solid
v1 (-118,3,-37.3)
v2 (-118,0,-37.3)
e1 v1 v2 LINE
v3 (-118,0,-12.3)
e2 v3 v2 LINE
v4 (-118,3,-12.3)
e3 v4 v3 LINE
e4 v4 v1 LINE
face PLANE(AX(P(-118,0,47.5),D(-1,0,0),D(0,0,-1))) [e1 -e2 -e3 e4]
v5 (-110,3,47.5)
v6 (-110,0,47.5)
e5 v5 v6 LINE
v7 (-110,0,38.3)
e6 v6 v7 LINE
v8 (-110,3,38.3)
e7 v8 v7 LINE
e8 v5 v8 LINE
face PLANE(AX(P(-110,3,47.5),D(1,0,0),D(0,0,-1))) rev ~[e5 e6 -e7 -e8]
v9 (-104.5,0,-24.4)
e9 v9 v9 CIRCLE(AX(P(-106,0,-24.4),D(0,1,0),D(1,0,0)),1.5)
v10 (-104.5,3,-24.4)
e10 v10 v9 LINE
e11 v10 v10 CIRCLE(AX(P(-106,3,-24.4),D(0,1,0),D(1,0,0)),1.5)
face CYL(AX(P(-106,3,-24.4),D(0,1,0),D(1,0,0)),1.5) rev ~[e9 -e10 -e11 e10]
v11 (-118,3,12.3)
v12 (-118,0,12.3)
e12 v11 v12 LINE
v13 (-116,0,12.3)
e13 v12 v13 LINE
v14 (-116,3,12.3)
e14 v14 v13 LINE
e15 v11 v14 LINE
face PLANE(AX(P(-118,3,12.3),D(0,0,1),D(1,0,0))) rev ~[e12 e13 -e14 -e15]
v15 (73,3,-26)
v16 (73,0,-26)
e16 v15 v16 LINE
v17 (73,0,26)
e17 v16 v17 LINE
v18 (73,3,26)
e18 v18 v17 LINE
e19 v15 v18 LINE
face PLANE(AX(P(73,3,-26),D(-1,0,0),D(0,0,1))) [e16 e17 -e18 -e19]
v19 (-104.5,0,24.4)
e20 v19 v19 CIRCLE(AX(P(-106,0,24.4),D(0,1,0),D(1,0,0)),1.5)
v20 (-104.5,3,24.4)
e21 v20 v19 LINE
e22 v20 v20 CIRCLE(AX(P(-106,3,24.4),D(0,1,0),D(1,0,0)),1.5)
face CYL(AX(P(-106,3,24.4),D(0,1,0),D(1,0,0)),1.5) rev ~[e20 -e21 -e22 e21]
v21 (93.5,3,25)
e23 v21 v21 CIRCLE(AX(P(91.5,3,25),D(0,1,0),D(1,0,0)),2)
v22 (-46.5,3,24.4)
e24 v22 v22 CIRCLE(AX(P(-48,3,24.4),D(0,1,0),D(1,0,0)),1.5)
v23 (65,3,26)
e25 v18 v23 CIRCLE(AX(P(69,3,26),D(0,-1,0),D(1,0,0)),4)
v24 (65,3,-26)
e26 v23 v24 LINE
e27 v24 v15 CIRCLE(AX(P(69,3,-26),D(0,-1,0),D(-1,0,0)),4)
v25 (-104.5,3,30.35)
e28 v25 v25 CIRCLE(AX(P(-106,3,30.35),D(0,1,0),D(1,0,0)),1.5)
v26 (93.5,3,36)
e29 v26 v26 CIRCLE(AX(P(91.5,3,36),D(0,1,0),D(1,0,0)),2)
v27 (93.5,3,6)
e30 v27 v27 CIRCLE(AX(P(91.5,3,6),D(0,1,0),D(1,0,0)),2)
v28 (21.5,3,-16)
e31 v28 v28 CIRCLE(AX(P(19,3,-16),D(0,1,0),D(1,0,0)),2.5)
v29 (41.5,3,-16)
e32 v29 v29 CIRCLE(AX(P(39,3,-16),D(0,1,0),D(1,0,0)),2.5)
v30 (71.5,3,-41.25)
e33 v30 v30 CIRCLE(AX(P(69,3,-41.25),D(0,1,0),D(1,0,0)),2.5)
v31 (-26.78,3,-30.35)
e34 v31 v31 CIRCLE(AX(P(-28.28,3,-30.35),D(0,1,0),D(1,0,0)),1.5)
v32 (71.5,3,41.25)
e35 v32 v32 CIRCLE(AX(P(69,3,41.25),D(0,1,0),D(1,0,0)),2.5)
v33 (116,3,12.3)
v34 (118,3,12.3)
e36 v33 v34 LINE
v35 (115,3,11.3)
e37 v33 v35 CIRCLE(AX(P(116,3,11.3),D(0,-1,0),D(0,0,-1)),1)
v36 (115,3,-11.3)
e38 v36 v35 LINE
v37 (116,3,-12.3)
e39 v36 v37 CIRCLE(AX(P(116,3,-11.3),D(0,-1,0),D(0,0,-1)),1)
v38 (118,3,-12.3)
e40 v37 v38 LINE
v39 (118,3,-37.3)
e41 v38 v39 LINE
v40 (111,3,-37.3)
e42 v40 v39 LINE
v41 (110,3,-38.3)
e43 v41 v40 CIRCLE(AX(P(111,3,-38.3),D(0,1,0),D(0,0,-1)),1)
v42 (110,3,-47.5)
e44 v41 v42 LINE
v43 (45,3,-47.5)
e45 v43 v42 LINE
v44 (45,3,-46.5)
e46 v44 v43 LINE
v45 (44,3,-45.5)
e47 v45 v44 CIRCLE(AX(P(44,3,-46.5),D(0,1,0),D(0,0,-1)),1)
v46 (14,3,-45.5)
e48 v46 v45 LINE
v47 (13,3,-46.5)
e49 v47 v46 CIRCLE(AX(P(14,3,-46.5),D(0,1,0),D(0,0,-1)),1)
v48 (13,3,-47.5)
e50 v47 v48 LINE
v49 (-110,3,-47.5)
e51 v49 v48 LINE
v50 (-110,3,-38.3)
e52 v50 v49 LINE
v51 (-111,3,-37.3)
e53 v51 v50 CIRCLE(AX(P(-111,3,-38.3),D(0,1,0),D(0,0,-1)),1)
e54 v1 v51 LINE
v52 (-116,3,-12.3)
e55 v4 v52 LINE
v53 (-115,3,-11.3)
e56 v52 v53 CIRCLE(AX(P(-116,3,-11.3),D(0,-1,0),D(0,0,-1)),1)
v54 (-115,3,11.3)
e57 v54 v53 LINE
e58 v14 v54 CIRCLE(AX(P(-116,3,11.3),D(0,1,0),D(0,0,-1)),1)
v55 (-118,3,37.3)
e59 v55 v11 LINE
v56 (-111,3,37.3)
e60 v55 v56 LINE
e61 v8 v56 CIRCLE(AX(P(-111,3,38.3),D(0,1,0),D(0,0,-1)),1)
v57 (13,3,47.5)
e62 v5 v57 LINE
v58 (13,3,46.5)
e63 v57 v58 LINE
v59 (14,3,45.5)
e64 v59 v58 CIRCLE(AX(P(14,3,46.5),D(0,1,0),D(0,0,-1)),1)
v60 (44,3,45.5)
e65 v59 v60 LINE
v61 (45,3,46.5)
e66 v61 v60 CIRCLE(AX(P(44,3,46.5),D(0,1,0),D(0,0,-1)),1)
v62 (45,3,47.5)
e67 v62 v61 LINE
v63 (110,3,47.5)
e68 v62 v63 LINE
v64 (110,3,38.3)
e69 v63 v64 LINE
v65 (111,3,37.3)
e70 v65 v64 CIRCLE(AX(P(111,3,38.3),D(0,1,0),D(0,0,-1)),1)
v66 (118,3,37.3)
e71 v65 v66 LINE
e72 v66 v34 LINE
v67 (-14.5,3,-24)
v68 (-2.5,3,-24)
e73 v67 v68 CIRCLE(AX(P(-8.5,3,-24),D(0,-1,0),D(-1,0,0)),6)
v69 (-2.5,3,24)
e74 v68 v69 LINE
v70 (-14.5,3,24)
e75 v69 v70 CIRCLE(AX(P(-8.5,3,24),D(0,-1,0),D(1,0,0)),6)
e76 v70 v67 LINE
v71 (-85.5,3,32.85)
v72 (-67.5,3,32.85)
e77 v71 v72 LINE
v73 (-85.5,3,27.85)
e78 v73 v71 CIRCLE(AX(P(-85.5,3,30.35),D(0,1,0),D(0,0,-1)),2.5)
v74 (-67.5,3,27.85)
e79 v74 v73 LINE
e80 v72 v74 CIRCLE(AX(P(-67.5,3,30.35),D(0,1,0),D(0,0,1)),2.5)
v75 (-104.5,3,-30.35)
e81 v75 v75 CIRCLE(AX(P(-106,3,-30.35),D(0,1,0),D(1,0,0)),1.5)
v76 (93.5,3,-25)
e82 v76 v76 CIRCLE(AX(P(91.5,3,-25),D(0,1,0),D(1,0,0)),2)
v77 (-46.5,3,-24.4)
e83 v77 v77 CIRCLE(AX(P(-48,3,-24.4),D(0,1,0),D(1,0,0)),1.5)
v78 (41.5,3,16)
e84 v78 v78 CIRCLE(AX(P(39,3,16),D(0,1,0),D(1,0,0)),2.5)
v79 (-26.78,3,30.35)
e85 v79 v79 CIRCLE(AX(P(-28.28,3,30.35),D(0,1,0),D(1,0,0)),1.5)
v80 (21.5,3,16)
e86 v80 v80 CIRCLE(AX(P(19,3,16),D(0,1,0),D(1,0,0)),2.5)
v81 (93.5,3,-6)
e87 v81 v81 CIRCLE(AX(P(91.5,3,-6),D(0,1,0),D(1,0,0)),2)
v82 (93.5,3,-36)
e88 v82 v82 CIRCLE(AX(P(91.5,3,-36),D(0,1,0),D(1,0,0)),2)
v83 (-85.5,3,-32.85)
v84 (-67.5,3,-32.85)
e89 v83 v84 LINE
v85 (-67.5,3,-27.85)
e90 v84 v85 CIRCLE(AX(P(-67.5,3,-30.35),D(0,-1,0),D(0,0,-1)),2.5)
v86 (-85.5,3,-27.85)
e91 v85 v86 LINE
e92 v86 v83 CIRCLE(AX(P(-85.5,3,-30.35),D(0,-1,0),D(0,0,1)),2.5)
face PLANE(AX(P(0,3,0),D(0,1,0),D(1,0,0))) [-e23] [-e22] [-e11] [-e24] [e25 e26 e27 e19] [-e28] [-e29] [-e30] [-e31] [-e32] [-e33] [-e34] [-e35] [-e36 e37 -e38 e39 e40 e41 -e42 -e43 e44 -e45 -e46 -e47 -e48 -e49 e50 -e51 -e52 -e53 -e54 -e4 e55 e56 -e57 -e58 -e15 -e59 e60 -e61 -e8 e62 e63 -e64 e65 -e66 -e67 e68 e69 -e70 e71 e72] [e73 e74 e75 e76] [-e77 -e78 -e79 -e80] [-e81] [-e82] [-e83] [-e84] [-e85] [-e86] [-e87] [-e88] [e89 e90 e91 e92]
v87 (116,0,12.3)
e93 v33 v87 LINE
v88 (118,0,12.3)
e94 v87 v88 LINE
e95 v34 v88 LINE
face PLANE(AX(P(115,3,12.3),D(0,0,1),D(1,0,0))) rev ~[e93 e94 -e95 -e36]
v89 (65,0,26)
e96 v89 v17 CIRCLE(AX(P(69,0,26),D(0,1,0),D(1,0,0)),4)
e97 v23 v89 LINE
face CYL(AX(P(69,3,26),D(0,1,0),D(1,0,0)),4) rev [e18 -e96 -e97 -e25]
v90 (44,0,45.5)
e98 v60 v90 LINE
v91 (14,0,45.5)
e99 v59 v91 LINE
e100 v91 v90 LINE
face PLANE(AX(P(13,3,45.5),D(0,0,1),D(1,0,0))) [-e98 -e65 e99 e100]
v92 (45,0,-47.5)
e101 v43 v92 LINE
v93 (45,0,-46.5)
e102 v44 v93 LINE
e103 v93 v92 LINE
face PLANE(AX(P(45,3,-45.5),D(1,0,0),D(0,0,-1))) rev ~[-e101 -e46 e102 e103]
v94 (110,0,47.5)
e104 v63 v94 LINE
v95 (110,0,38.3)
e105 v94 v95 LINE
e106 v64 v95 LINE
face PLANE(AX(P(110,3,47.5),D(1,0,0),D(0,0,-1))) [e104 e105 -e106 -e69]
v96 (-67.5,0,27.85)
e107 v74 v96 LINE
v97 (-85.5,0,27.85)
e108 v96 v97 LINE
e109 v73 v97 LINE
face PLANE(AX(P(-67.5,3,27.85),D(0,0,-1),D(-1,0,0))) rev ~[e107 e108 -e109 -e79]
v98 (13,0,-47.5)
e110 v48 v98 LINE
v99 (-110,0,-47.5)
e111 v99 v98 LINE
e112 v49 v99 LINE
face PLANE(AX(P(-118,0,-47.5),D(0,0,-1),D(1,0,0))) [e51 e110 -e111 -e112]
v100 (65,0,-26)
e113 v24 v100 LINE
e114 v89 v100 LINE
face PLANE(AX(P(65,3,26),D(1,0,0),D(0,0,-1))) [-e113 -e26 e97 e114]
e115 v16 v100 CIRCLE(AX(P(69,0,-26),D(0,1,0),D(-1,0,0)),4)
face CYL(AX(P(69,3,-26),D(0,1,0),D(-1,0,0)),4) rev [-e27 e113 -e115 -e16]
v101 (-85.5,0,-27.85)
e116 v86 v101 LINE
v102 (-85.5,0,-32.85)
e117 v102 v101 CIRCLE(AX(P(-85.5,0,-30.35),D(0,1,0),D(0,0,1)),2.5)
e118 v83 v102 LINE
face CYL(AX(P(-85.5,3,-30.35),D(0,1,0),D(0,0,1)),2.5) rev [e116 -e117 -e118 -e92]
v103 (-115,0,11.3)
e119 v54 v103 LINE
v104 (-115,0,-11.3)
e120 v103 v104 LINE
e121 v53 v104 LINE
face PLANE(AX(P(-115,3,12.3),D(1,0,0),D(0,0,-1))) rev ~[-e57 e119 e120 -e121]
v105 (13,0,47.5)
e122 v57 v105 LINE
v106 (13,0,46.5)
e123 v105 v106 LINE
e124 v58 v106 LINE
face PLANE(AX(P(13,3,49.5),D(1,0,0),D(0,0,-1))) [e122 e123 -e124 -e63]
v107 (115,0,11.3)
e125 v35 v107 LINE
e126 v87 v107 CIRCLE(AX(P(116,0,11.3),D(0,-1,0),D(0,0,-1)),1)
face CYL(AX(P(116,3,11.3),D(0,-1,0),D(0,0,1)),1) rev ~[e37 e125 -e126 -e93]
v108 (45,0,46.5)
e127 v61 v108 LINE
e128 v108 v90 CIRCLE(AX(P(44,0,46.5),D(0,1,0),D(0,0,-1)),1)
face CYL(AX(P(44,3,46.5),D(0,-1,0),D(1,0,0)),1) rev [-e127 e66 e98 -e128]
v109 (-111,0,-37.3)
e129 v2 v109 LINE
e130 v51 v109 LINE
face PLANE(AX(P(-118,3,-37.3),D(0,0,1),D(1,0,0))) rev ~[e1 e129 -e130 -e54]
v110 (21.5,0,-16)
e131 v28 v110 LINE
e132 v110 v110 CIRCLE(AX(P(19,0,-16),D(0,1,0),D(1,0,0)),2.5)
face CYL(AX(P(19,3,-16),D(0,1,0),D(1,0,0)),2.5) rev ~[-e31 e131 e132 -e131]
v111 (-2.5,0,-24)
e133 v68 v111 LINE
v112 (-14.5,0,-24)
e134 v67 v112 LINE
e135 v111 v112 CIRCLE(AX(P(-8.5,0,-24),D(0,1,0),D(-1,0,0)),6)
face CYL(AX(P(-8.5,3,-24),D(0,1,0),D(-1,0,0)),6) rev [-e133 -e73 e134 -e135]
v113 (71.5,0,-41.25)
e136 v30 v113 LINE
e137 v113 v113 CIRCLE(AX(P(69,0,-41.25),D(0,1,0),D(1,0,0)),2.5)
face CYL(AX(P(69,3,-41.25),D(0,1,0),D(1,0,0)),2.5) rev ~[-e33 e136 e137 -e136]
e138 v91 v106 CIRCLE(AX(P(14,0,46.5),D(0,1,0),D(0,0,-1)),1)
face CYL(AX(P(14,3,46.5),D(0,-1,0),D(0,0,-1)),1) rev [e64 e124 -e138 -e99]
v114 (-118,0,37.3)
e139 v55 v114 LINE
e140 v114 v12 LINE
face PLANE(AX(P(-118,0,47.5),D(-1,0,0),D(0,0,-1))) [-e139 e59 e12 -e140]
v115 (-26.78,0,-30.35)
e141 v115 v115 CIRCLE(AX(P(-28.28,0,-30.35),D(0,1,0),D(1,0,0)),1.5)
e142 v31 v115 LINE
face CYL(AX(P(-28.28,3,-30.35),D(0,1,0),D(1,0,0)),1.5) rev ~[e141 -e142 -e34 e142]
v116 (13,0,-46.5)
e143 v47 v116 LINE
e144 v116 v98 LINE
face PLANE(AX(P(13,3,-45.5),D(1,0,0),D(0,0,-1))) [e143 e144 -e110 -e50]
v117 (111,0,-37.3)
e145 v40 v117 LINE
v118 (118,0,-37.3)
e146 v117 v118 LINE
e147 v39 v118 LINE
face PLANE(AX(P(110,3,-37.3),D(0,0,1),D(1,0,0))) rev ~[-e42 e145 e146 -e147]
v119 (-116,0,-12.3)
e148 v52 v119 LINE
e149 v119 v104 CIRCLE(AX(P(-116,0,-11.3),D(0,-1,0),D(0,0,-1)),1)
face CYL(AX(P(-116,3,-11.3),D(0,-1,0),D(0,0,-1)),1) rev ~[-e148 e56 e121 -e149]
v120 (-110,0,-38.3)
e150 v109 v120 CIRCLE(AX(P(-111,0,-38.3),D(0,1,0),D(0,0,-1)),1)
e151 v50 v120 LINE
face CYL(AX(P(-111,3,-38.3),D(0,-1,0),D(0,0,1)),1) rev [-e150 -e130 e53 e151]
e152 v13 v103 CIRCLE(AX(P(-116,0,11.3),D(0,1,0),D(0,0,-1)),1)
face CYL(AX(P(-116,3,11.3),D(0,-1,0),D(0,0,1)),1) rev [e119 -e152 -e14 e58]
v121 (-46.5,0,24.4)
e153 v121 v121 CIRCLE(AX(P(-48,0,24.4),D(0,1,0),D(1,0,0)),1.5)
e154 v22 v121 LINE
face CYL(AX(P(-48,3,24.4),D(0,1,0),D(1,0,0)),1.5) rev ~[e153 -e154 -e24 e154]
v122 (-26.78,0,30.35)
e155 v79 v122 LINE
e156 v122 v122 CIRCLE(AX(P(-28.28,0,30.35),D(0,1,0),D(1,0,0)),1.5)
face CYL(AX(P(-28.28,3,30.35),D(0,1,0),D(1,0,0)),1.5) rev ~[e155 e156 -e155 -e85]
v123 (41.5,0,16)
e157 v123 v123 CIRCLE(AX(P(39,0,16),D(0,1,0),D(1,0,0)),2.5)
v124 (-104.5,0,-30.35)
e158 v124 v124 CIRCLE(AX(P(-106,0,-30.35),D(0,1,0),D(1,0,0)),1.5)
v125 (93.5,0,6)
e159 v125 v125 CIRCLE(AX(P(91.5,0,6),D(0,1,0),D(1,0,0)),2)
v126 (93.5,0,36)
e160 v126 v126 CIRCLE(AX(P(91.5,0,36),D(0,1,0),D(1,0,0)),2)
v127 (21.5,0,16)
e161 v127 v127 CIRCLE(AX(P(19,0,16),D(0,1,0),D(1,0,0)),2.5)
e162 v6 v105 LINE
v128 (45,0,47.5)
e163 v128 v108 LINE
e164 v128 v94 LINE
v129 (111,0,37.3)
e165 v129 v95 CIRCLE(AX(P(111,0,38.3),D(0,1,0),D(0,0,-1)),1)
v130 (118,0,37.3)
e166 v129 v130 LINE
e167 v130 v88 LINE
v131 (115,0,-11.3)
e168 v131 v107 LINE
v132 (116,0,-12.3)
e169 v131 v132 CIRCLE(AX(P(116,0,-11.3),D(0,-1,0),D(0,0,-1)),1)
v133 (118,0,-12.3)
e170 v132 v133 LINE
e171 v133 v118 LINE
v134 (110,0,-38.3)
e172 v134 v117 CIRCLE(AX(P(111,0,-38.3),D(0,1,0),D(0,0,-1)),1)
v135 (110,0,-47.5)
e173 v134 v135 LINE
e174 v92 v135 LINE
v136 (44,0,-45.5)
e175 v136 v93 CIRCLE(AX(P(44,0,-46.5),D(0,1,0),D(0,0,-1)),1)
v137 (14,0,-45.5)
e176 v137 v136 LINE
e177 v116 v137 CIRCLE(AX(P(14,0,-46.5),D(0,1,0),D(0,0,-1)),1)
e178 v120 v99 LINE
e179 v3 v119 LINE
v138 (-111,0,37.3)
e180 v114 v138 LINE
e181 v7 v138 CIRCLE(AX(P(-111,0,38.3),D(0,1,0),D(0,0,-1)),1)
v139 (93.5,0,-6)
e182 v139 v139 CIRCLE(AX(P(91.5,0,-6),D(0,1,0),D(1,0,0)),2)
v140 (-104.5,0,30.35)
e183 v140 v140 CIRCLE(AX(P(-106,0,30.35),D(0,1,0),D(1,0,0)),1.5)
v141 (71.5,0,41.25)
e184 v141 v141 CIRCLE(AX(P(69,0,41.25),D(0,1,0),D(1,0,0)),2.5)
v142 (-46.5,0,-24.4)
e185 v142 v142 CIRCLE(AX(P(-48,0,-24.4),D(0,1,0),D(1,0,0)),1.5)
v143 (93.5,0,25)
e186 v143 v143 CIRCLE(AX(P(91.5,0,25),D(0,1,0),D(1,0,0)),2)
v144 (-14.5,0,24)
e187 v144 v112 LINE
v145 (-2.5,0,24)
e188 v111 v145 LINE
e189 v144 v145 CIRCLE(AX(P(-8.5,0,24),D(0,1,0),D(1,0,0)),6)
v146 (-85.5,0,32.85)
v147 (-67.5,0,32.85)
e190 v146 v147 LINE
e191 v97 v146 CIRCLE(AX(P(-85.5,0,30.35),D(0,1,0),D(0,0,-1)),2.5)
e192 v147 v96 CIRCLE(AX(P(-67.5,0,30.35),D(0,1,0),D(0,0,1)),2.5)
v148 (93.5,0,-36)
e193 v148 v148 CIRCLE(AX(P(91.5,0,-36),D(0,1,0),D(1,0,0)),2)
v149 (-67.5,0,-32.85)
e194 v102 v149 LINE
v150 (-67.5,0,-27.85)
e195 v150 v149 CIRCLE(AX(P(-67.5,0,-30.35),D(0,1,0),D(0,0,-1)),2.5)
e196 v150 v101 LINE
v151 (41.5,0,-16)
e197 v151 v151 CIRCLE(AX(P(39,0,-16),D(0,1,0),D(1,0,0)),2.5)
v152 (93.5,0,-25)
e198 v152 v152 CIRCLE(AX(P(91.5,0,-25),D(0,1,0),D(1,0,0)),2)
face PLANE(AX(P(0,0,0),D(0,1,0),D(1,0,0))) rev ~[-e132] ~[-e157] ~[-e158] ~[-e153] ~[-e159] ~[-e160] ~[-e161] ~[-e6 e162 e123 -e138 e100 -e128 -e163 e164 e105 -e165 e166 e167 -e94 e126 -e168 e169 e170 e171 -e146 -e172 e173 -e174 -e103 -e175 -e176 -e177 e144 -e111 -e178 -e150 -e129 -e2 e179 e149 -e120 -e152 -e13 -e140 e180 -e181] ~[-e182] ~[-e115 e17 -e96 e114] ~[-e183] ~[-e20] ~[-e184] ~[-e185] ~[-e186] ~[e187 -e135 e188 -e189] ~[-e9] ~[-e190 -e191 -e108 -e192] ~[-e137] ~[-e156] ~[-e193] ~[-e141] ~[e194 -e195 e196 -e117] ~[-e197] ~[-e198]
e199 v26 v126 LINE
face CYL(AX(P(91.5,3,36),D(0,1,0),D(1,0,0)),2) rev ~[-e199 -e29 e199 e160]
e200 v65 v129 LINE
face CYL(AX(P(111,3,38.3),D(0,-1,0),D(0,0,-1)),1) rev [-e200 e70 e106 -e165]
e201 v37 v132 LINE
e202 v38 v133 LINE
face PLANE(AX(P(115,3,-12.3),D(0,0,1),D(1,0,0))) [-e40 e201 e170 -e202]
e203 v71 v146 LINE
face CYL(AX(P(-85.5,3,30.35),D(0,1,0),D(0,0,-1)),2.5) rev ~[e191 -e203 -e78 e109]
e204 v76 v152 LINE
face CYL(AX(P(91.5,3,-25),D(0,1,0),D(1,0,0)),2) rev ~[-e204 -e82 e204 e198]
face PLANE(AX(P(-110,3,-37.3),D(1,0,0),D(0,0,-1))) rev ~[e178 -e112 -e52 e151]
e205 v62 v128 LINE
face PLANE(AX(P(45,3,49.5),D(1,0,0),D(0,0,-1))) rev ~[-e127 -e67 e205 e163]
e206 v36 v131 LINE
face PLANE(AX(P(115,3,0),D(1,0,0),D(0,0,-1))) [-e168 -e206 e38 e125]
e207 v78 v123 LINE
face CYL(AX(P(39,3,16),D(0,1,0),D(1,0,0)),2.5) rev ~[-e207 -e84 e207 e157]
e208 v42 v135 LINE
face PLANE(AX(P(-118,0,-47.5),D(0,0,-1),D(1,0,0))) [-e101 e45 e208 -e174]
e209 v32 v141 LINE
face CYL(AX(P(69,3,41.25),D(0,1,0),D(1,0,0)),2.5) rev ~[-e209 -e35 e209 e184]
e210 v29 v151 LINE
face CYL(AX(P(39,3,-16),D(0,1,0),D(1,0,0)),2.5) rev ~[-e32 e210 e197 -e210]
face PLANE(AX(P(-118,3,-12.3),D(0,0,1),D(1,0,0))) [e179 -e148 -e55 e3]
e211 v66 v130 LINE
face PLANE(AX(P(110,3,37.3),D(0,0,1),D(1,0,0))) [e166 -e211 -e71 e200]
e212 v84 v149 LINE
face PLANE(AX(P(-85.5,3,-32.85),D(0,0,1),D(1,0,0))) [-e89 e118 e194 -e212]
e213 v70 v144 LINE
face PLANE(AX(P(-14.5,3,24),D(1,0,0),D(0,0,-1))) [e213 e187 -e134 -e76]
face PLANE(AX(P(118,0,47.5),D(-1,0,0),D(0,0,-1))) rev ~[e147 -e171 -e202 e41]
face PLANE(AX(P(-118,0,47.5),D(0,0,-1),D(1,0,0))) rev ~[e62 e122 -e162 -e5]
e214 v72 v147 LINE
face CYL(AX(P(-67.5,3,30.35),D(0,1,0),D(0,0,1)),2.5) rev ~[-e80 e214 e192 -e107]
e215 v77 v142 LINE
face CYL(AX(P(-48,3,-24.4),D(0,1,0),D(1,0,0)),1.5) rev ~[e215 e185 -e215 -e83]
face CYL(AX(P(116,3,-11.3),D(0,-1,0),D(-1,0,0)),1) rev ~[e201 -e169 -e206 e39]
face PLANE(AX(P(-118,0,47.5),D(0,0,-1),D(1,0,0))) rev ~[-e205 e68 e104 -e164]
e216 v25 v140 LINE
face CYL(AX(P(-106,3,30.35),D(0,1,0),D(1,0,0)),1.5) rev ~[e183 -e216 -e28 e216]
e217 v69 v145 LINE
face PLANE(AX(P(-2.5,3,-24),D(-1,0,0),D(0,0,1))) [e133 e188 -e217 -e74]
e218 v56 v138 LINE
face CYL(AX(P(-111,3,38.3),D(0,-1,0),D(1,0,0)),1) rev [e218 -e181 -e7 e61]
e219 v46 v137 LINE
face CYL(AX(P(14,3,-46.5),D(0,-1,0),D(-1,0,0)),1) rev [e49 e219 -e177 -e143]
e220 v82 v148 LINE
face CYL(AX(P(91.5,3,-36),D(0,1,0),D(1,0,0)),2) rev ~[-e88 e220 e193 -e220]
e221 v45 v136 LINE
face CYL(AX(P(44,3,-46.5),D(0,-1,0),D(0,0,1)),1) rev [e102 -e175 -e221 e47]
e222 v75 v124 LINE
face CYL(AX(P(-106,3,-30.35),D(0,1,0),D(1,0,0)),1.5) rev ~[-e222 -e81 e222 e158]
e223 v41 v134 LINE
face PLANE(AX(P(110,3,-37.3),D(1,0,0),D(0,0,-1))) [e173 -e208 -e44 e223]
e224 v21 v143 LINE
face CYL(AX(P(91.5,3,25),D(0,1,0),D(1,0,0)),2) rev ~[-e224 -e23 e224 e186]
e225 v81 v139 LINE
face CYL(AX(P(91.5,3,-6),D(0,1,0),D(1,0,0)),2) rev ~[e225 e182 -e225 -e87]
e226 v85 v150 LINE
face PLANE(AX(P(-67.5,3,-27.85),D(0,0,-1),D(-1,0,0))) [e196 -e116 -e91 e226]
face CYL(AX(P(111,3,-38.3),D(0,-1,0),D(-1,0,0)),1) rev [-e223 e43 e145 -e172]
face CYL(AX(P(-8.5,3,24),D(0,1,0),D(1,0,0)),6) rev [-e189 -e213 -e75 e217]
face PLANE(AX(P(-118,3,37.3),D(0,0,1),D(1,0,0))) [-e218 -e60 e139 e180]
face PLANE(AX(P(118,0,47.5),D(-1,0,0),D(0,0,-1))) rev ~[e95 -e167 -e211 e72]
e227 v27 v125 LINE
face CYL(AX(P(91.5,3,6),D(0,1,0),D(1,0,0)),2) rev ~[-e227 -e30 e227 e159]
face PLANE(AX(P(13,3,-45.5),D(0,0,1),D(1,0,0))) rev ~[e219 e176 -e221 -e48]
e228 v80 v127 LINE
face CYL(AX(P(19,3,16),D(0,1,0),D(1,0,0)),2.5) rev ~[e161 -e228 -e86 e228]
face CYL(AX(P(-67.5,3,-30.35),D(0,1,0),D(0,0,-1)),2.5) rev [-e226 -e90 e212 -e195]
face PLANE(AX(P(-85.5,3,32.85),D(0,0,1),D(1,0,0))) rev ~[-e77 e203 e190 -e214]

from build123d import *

# Parameters (mm, degrees)
SKETCH_4_W           = 236
SKETCH_4_H           = 95
EXTRUDE_3_DEPTH      = 3
SKETCH_5_W           = 3
SKETCH_5_H           = 12.3
CUT_EXTRUDE_1_DEPTH  = 4
SKETCH_6_W           = 8
SKETCH_6_H           = 10.2
CUT_EXTRUDE_2_DEPTH  = 4
FILLET_2_R           = 1
FILLET_5_R           = 1
SKETCH_7_W           = 3
SKETCH_7_H           = 12.3
CUT_EXTRUDE_3_DEPTH  = 4
FILLET_6_R           = 1
SKETCH_8_W           = 8
SKETCH_8_H           = 10.2
CUT_EXTRUDE_5_DEPTH  = 4
FILLET_9_R           = 1
SKETCH_10_W          = 3
SKETCH_10_H          = 12.3
CUT_EXTRUDE_6_DEPTH  = 4
SKETCH_11_W          = 3
SKETCH_11_H          = 12.3
CUT_EXTRUDE_7_DEPTH  = 4
SKETCH_12_W          = 8
SKETCH_12_H          = 10.2
CUT_EXTRUDE_8_DEPTH  = 4
SKETCH_13_W          = 8
SKETCH_13_H          = 10.2
CUT_EXTRUDE_10_DEPTH = 4
FILLET_13_R          = 1
FILLET_15_R          = 1
FILLET_18_R          = 1
FILLET_19_R          = 1
SKETCH_14_R          = 1.5
SKETCH_14_R_2        = 2
SKETCH_14_R_3        = 2.5
CUT_EXTRUDE_11_DEPTH = 4
SKETCH_15_W          = 32
SKETCH_15_H          = 4
CUT_EXTRUDE_12_DEPTH = 4
FILLET_20_R          = 1


with BuildPart() as part:
    # 草图4 → 凸台-拉伸3 (new body)
    with BuildSketch(Plane(origin=(0, 0, 0), x_dir=(1, 0, 0), z_dir=(0, 1, 0))):
        Rectangle(SKETCH_4_W, SKETCH_4_H)
    extrude(amount=EXTRUDE_3_DEPTH)

    # 草图5 → 切除-拉伸1 (cut, through all)
    with BuildSketch(Plane(origin=(0, 3, 0), x_dir=(1, 0, 0), z_dir=(0, 1, 0))):
        with Locations((-116.5, 6.15)):
            Rectangle(SKETCH_5_W, SKETCH_5_H)
    extrude(amount=-CUT_EXTRUDE_1_DEPTH, mode=Mode.SUBTRACT)

    # 草图6 → 切除-拉伸2 (cut, through all)
    with BuildSketch(Plane(origin=(0, 3, 0), x_dir=(1, 0, 0), z_dir=(0, 1, 0))):
        with Locations((-114, 42.4)):
            Rectangle(SKETCH_6_W, SKETCH_6_H)
    extrude(amount=-CUT_EXTRUDE_2_DEPTH, mode=Mode.SUBTRACT)

    # 圆角2
    fillet_2_edges = [part.edges().sort_by_distance(p)[0] for p in [
        (-110, 1.5, -37.3),
    ]]
    fillet(fillet_2_edges, radius=FILLET_2_R)

    # 圆角5
    fillet_5_edges = [part.edges().sort_by_distance(p)[0] for p in [
        (-115, 1.5, -12.3),
    ]]
    fillet(fillet_5_edges, radius=FILLET_5_R)

    # 草图7 → 切除-拉伸3 (cut, through all)
    with BuildSketch(Plane(origin=(0, 3, 0), x_dir=(1, 0, 0), z_dir=(0, 1, 0))):
        with Locations((-116.5, -6.15)):
            Rectangle(SKETCH_7_W, SKETCH_7_H)
    extrude(amount=-CUT_EXTRUDE_3_DEPTH, mode=Mode.SUBTRACT)

    # 圆角6
    fillet_6_edges = [part.edges().sort_by_distance(p)[0] for p in [
        (-115, 1.5, 12.3),
    ]]
    fillet(fillet_6_edges, radius=FILLET_6_R)

    # 草图8 → 切除-拉伸5 (cut, through all)
    with BuildSketch(Plane(origin=(0, 3, 0), x_dir=(1, 0, 0), z_dir=(0, 1, 0))):
        with Locations((-114, -42.4)):
            Rectangle(SKETCH_8_W, SKETCH_8_H)
    extrude(amount=-CUT_EXTRUDE_5_DEPTH, mode=Mode.SUBTRACT)

    # 圆角9
    fillet_9_edges = [part.edges().sort_by_distance(p)[0] for p in [
        (-110, 1.5, 37.3),
    ]]
    fillet(fillet_9_edges, radius=FILLET_9_R)

    # 草图10 → 切除-拉伸6 (cut, through all)
    with BuildSketch(Plane(origin=(0, 3, 0), x_dir=(1, 0, 0), z_dir=(0, 1, 0))):
        with Locations((116.5, 6.15)):
            Rectangle(SKETCH_10_W, SKETCH_10_H)
    extrude(amount=-CUT_EXTRUDE_6_DEPTH, mode=Mode.SUBTRACT)

    # 草图11 → 切除-拉伸7 (cut, through all)
    with BuildSketch(Plane(origin=(0, 3, 0), x_dir=(1, 0, 0), z_dir=(0, 1, 0))):
        with Locations((116.5, -6.15)):
            Rectangle(SKETCH_11_W, SKETCH_11_H)
    extrude(amount=-CUT_EXTRUDE_7_DEPTH, mode=Mode.SUBTRACT)

    # 草图12 → 切除-拉伸8 (cut, through all)
    with BuildSketch(Plane(origin=(0, 3, 0), x_dir=(1, 0, 0), z_dir=(0, 1, 0))):
        with Locations((114, 42.4)):
            Rectangle(SKETCH_12_W, SKETCH_12_H)
    extrude(amount=-CUT_EXTRUDE_8_DEPTH, mode=Mode.SUBTRACT)

    # 草图13 → 切除-拉伸10 (cut, through all)
    with BuildSketch(Plane(origin=(0, 3, 0), x_dir=(1, 0, 0), z_dir=(0, 1, 0))):
        with Locations((114, -42.4)):
            Rectangle(SKETCH_13_W, SKETCH_13_H)
    extrude(amount=-CUT_EXTRUDE_10_DEPTH, mode=Mode.SUBTRACT)

    # 圆角13
    fillet_13_edges = [part.edges().sort_by_distance(p)[0] for p in [
        (110, 1.5, -37.3),
    ]]
    fillet(fillet_13_edges, radius=FILLET_13_R)

    # 圆角15
    fillet_15_edges = [part.edges().sort_by_distance(p)[0] for p in [
        (110, 1.5, 37.3),
    ]]
    fillet(fillet_15_edges, radius=FILLET_15_R)

    # 圆角18
    fillet_18_edges = [part.edges().sort_by_distance(p)[0] for p in [
        (115, 1.5, 12.3),
    ]]
    fillet(fillet_18_edges, radius=FILLET_18_R)

    # 圆角19
    fillet_19_edges = [part.edges().sort_by_distance(p)[0] for p in [
        (115, 1.5, -12.3),
    ]]
    fillet(fillet_19_edges, radius=FILLET_19_R)

    # 草图14 → 切除-拉伸11 (cut, through all)
    with BuildSketch(Plane(origin=(0, 3, 0), x_dir=(1, 0, 0), z_dir=(0, 1, 0))):
        with Locations((-106, 30.35)):
            Circle(SKETCH_14_R)
        with Locations((-28.28, 30.35)):
            Circle(SKETCH_14_R)
        with Locations((-106, 24.4)):
            Circle(SKETCH_14_R)
        with Locations((-48, 24.4)):
            Circle(SKETCH_14_R)
        with Locations((91.5, 6)):
            Circle(SKETCH_14_R_2)
        with Locations((91.5, 25)):
            Circle(SKETCH_14_R_2)
        with Locations((91.5, 36)):
            Circle(SKETCH_14_R_2)
        with Locations((69, 41.25)):
            Circle(SKETCH_14_R_3)
        with Locations((39, 16)):
            Circle(SKETCH_14_R_3)
        with Locations((19, 16)):
            Circle(SKETCH_14_R_3)
        with Locations((91.5, -6)):
            Circle(SKETCH_14_R_2)
        with Locations((91.5, -25)):
            Circle(SKETCH_14_R_2)
        with Locations((91.5, -36)):
            Circle(SKETCH_14_R_2)
        with Locations((69, -41.25)):
            Circle(SKETCH_14_R_3)
        with Locations((39, -16)):
            Circle(SKETCH_14_R_3)
        with Locations((19, -16)):
            Circle(SKETCH_14_R_3)
        with Locations((-28.28, -30.35)):
            Circle(SKETCH_14_R)
        with Locations((-48, -24.4)):
            Circle(SKETCH_14_R)
        with Locations((-106, -24.4)):
            Circle(SKETCH_14_R)
        with Locations((-106, -30.35)):
            Circle(SKETCH_14_R)
        with BuildLine():
            Line((-2.5, 24), (-2.5, -24))
            ThreePointArc((-2.5, -24), (-8.5, -30), (-14.5, -24))
            Line((-14.5, -24), (-14.5, 24))
            ThreePointArc((-14.5, 24), (-8.5, 30), (-2.5, 24))
        make_face()
        with BuildLine():
            Line((73, 26), (73, -26))
            ThreePointArc((73, -26), (69, -30), (65, -26))
            Line((65, -26), (65, 26))
            ThreePointArc((65, 26), (69, 30), (73, 26))
        make_face()
        with BuildLine():
            Line((-85.5, 32.85), (-67.5, 32.85))
            ThreePointArc((-67.5, 32.85), (-65, 30.35), (-67.5, 27.85))
            Line((-67.5, 27.85), (-85.5, 27.85))
            ThreePointArc((-85.5, 27.85), (-88, 30.35), (-85.5, 32.85))
        make_face()
        with BuildLine():
            Line((-85.5, -32.85), (-67.5, -32.85))
            ThreePointArc((-67.5, -32.85), (-65, -30.35), (-67.5, -27.85))
            Line((-67.5, -27.85), (-85.5, -27.85))
            ThreePointArc((-85.5, -27.85), (-88, -30.35), (-85.5, -32.85))
        make_face()
    extrude(amount=-CUT_EXTRUDE_11_DEPTH, mode=Mode.SUBTRACT)

    # 草图15 → 切除-拉伸12 (cut, through all)
    with BuildSketch(Plane(origin=(0, 3, 0), x_dir=(1, 0, 0), z_dir=(0, 1, 0))):
        with Locations((29, 47.5)):
            Rectangle(SKETCH_15_W, SKETCH_15_H)
        with Locations((29, -47.5)):
            Rectangle(SKETCH_15_W, SKETCH_15_H)
    extrude(amount=-CUT_EXTRUDE_12_DEPTH, mode=Mode.SUBTRACT)

    # 圆角20
    fillet_20_edges = [part.edges().sort_by_distance(p)[0] for p in [
        (13, 1.5, -45.5),
        (45, 1.5, -45.5),
        (45, 1.5, 45.5),
        (13, 1.5, 45.5),
    ]]
    fillet(fillet_20_edges, radius=FILLET_20_R)


solid = part.part
